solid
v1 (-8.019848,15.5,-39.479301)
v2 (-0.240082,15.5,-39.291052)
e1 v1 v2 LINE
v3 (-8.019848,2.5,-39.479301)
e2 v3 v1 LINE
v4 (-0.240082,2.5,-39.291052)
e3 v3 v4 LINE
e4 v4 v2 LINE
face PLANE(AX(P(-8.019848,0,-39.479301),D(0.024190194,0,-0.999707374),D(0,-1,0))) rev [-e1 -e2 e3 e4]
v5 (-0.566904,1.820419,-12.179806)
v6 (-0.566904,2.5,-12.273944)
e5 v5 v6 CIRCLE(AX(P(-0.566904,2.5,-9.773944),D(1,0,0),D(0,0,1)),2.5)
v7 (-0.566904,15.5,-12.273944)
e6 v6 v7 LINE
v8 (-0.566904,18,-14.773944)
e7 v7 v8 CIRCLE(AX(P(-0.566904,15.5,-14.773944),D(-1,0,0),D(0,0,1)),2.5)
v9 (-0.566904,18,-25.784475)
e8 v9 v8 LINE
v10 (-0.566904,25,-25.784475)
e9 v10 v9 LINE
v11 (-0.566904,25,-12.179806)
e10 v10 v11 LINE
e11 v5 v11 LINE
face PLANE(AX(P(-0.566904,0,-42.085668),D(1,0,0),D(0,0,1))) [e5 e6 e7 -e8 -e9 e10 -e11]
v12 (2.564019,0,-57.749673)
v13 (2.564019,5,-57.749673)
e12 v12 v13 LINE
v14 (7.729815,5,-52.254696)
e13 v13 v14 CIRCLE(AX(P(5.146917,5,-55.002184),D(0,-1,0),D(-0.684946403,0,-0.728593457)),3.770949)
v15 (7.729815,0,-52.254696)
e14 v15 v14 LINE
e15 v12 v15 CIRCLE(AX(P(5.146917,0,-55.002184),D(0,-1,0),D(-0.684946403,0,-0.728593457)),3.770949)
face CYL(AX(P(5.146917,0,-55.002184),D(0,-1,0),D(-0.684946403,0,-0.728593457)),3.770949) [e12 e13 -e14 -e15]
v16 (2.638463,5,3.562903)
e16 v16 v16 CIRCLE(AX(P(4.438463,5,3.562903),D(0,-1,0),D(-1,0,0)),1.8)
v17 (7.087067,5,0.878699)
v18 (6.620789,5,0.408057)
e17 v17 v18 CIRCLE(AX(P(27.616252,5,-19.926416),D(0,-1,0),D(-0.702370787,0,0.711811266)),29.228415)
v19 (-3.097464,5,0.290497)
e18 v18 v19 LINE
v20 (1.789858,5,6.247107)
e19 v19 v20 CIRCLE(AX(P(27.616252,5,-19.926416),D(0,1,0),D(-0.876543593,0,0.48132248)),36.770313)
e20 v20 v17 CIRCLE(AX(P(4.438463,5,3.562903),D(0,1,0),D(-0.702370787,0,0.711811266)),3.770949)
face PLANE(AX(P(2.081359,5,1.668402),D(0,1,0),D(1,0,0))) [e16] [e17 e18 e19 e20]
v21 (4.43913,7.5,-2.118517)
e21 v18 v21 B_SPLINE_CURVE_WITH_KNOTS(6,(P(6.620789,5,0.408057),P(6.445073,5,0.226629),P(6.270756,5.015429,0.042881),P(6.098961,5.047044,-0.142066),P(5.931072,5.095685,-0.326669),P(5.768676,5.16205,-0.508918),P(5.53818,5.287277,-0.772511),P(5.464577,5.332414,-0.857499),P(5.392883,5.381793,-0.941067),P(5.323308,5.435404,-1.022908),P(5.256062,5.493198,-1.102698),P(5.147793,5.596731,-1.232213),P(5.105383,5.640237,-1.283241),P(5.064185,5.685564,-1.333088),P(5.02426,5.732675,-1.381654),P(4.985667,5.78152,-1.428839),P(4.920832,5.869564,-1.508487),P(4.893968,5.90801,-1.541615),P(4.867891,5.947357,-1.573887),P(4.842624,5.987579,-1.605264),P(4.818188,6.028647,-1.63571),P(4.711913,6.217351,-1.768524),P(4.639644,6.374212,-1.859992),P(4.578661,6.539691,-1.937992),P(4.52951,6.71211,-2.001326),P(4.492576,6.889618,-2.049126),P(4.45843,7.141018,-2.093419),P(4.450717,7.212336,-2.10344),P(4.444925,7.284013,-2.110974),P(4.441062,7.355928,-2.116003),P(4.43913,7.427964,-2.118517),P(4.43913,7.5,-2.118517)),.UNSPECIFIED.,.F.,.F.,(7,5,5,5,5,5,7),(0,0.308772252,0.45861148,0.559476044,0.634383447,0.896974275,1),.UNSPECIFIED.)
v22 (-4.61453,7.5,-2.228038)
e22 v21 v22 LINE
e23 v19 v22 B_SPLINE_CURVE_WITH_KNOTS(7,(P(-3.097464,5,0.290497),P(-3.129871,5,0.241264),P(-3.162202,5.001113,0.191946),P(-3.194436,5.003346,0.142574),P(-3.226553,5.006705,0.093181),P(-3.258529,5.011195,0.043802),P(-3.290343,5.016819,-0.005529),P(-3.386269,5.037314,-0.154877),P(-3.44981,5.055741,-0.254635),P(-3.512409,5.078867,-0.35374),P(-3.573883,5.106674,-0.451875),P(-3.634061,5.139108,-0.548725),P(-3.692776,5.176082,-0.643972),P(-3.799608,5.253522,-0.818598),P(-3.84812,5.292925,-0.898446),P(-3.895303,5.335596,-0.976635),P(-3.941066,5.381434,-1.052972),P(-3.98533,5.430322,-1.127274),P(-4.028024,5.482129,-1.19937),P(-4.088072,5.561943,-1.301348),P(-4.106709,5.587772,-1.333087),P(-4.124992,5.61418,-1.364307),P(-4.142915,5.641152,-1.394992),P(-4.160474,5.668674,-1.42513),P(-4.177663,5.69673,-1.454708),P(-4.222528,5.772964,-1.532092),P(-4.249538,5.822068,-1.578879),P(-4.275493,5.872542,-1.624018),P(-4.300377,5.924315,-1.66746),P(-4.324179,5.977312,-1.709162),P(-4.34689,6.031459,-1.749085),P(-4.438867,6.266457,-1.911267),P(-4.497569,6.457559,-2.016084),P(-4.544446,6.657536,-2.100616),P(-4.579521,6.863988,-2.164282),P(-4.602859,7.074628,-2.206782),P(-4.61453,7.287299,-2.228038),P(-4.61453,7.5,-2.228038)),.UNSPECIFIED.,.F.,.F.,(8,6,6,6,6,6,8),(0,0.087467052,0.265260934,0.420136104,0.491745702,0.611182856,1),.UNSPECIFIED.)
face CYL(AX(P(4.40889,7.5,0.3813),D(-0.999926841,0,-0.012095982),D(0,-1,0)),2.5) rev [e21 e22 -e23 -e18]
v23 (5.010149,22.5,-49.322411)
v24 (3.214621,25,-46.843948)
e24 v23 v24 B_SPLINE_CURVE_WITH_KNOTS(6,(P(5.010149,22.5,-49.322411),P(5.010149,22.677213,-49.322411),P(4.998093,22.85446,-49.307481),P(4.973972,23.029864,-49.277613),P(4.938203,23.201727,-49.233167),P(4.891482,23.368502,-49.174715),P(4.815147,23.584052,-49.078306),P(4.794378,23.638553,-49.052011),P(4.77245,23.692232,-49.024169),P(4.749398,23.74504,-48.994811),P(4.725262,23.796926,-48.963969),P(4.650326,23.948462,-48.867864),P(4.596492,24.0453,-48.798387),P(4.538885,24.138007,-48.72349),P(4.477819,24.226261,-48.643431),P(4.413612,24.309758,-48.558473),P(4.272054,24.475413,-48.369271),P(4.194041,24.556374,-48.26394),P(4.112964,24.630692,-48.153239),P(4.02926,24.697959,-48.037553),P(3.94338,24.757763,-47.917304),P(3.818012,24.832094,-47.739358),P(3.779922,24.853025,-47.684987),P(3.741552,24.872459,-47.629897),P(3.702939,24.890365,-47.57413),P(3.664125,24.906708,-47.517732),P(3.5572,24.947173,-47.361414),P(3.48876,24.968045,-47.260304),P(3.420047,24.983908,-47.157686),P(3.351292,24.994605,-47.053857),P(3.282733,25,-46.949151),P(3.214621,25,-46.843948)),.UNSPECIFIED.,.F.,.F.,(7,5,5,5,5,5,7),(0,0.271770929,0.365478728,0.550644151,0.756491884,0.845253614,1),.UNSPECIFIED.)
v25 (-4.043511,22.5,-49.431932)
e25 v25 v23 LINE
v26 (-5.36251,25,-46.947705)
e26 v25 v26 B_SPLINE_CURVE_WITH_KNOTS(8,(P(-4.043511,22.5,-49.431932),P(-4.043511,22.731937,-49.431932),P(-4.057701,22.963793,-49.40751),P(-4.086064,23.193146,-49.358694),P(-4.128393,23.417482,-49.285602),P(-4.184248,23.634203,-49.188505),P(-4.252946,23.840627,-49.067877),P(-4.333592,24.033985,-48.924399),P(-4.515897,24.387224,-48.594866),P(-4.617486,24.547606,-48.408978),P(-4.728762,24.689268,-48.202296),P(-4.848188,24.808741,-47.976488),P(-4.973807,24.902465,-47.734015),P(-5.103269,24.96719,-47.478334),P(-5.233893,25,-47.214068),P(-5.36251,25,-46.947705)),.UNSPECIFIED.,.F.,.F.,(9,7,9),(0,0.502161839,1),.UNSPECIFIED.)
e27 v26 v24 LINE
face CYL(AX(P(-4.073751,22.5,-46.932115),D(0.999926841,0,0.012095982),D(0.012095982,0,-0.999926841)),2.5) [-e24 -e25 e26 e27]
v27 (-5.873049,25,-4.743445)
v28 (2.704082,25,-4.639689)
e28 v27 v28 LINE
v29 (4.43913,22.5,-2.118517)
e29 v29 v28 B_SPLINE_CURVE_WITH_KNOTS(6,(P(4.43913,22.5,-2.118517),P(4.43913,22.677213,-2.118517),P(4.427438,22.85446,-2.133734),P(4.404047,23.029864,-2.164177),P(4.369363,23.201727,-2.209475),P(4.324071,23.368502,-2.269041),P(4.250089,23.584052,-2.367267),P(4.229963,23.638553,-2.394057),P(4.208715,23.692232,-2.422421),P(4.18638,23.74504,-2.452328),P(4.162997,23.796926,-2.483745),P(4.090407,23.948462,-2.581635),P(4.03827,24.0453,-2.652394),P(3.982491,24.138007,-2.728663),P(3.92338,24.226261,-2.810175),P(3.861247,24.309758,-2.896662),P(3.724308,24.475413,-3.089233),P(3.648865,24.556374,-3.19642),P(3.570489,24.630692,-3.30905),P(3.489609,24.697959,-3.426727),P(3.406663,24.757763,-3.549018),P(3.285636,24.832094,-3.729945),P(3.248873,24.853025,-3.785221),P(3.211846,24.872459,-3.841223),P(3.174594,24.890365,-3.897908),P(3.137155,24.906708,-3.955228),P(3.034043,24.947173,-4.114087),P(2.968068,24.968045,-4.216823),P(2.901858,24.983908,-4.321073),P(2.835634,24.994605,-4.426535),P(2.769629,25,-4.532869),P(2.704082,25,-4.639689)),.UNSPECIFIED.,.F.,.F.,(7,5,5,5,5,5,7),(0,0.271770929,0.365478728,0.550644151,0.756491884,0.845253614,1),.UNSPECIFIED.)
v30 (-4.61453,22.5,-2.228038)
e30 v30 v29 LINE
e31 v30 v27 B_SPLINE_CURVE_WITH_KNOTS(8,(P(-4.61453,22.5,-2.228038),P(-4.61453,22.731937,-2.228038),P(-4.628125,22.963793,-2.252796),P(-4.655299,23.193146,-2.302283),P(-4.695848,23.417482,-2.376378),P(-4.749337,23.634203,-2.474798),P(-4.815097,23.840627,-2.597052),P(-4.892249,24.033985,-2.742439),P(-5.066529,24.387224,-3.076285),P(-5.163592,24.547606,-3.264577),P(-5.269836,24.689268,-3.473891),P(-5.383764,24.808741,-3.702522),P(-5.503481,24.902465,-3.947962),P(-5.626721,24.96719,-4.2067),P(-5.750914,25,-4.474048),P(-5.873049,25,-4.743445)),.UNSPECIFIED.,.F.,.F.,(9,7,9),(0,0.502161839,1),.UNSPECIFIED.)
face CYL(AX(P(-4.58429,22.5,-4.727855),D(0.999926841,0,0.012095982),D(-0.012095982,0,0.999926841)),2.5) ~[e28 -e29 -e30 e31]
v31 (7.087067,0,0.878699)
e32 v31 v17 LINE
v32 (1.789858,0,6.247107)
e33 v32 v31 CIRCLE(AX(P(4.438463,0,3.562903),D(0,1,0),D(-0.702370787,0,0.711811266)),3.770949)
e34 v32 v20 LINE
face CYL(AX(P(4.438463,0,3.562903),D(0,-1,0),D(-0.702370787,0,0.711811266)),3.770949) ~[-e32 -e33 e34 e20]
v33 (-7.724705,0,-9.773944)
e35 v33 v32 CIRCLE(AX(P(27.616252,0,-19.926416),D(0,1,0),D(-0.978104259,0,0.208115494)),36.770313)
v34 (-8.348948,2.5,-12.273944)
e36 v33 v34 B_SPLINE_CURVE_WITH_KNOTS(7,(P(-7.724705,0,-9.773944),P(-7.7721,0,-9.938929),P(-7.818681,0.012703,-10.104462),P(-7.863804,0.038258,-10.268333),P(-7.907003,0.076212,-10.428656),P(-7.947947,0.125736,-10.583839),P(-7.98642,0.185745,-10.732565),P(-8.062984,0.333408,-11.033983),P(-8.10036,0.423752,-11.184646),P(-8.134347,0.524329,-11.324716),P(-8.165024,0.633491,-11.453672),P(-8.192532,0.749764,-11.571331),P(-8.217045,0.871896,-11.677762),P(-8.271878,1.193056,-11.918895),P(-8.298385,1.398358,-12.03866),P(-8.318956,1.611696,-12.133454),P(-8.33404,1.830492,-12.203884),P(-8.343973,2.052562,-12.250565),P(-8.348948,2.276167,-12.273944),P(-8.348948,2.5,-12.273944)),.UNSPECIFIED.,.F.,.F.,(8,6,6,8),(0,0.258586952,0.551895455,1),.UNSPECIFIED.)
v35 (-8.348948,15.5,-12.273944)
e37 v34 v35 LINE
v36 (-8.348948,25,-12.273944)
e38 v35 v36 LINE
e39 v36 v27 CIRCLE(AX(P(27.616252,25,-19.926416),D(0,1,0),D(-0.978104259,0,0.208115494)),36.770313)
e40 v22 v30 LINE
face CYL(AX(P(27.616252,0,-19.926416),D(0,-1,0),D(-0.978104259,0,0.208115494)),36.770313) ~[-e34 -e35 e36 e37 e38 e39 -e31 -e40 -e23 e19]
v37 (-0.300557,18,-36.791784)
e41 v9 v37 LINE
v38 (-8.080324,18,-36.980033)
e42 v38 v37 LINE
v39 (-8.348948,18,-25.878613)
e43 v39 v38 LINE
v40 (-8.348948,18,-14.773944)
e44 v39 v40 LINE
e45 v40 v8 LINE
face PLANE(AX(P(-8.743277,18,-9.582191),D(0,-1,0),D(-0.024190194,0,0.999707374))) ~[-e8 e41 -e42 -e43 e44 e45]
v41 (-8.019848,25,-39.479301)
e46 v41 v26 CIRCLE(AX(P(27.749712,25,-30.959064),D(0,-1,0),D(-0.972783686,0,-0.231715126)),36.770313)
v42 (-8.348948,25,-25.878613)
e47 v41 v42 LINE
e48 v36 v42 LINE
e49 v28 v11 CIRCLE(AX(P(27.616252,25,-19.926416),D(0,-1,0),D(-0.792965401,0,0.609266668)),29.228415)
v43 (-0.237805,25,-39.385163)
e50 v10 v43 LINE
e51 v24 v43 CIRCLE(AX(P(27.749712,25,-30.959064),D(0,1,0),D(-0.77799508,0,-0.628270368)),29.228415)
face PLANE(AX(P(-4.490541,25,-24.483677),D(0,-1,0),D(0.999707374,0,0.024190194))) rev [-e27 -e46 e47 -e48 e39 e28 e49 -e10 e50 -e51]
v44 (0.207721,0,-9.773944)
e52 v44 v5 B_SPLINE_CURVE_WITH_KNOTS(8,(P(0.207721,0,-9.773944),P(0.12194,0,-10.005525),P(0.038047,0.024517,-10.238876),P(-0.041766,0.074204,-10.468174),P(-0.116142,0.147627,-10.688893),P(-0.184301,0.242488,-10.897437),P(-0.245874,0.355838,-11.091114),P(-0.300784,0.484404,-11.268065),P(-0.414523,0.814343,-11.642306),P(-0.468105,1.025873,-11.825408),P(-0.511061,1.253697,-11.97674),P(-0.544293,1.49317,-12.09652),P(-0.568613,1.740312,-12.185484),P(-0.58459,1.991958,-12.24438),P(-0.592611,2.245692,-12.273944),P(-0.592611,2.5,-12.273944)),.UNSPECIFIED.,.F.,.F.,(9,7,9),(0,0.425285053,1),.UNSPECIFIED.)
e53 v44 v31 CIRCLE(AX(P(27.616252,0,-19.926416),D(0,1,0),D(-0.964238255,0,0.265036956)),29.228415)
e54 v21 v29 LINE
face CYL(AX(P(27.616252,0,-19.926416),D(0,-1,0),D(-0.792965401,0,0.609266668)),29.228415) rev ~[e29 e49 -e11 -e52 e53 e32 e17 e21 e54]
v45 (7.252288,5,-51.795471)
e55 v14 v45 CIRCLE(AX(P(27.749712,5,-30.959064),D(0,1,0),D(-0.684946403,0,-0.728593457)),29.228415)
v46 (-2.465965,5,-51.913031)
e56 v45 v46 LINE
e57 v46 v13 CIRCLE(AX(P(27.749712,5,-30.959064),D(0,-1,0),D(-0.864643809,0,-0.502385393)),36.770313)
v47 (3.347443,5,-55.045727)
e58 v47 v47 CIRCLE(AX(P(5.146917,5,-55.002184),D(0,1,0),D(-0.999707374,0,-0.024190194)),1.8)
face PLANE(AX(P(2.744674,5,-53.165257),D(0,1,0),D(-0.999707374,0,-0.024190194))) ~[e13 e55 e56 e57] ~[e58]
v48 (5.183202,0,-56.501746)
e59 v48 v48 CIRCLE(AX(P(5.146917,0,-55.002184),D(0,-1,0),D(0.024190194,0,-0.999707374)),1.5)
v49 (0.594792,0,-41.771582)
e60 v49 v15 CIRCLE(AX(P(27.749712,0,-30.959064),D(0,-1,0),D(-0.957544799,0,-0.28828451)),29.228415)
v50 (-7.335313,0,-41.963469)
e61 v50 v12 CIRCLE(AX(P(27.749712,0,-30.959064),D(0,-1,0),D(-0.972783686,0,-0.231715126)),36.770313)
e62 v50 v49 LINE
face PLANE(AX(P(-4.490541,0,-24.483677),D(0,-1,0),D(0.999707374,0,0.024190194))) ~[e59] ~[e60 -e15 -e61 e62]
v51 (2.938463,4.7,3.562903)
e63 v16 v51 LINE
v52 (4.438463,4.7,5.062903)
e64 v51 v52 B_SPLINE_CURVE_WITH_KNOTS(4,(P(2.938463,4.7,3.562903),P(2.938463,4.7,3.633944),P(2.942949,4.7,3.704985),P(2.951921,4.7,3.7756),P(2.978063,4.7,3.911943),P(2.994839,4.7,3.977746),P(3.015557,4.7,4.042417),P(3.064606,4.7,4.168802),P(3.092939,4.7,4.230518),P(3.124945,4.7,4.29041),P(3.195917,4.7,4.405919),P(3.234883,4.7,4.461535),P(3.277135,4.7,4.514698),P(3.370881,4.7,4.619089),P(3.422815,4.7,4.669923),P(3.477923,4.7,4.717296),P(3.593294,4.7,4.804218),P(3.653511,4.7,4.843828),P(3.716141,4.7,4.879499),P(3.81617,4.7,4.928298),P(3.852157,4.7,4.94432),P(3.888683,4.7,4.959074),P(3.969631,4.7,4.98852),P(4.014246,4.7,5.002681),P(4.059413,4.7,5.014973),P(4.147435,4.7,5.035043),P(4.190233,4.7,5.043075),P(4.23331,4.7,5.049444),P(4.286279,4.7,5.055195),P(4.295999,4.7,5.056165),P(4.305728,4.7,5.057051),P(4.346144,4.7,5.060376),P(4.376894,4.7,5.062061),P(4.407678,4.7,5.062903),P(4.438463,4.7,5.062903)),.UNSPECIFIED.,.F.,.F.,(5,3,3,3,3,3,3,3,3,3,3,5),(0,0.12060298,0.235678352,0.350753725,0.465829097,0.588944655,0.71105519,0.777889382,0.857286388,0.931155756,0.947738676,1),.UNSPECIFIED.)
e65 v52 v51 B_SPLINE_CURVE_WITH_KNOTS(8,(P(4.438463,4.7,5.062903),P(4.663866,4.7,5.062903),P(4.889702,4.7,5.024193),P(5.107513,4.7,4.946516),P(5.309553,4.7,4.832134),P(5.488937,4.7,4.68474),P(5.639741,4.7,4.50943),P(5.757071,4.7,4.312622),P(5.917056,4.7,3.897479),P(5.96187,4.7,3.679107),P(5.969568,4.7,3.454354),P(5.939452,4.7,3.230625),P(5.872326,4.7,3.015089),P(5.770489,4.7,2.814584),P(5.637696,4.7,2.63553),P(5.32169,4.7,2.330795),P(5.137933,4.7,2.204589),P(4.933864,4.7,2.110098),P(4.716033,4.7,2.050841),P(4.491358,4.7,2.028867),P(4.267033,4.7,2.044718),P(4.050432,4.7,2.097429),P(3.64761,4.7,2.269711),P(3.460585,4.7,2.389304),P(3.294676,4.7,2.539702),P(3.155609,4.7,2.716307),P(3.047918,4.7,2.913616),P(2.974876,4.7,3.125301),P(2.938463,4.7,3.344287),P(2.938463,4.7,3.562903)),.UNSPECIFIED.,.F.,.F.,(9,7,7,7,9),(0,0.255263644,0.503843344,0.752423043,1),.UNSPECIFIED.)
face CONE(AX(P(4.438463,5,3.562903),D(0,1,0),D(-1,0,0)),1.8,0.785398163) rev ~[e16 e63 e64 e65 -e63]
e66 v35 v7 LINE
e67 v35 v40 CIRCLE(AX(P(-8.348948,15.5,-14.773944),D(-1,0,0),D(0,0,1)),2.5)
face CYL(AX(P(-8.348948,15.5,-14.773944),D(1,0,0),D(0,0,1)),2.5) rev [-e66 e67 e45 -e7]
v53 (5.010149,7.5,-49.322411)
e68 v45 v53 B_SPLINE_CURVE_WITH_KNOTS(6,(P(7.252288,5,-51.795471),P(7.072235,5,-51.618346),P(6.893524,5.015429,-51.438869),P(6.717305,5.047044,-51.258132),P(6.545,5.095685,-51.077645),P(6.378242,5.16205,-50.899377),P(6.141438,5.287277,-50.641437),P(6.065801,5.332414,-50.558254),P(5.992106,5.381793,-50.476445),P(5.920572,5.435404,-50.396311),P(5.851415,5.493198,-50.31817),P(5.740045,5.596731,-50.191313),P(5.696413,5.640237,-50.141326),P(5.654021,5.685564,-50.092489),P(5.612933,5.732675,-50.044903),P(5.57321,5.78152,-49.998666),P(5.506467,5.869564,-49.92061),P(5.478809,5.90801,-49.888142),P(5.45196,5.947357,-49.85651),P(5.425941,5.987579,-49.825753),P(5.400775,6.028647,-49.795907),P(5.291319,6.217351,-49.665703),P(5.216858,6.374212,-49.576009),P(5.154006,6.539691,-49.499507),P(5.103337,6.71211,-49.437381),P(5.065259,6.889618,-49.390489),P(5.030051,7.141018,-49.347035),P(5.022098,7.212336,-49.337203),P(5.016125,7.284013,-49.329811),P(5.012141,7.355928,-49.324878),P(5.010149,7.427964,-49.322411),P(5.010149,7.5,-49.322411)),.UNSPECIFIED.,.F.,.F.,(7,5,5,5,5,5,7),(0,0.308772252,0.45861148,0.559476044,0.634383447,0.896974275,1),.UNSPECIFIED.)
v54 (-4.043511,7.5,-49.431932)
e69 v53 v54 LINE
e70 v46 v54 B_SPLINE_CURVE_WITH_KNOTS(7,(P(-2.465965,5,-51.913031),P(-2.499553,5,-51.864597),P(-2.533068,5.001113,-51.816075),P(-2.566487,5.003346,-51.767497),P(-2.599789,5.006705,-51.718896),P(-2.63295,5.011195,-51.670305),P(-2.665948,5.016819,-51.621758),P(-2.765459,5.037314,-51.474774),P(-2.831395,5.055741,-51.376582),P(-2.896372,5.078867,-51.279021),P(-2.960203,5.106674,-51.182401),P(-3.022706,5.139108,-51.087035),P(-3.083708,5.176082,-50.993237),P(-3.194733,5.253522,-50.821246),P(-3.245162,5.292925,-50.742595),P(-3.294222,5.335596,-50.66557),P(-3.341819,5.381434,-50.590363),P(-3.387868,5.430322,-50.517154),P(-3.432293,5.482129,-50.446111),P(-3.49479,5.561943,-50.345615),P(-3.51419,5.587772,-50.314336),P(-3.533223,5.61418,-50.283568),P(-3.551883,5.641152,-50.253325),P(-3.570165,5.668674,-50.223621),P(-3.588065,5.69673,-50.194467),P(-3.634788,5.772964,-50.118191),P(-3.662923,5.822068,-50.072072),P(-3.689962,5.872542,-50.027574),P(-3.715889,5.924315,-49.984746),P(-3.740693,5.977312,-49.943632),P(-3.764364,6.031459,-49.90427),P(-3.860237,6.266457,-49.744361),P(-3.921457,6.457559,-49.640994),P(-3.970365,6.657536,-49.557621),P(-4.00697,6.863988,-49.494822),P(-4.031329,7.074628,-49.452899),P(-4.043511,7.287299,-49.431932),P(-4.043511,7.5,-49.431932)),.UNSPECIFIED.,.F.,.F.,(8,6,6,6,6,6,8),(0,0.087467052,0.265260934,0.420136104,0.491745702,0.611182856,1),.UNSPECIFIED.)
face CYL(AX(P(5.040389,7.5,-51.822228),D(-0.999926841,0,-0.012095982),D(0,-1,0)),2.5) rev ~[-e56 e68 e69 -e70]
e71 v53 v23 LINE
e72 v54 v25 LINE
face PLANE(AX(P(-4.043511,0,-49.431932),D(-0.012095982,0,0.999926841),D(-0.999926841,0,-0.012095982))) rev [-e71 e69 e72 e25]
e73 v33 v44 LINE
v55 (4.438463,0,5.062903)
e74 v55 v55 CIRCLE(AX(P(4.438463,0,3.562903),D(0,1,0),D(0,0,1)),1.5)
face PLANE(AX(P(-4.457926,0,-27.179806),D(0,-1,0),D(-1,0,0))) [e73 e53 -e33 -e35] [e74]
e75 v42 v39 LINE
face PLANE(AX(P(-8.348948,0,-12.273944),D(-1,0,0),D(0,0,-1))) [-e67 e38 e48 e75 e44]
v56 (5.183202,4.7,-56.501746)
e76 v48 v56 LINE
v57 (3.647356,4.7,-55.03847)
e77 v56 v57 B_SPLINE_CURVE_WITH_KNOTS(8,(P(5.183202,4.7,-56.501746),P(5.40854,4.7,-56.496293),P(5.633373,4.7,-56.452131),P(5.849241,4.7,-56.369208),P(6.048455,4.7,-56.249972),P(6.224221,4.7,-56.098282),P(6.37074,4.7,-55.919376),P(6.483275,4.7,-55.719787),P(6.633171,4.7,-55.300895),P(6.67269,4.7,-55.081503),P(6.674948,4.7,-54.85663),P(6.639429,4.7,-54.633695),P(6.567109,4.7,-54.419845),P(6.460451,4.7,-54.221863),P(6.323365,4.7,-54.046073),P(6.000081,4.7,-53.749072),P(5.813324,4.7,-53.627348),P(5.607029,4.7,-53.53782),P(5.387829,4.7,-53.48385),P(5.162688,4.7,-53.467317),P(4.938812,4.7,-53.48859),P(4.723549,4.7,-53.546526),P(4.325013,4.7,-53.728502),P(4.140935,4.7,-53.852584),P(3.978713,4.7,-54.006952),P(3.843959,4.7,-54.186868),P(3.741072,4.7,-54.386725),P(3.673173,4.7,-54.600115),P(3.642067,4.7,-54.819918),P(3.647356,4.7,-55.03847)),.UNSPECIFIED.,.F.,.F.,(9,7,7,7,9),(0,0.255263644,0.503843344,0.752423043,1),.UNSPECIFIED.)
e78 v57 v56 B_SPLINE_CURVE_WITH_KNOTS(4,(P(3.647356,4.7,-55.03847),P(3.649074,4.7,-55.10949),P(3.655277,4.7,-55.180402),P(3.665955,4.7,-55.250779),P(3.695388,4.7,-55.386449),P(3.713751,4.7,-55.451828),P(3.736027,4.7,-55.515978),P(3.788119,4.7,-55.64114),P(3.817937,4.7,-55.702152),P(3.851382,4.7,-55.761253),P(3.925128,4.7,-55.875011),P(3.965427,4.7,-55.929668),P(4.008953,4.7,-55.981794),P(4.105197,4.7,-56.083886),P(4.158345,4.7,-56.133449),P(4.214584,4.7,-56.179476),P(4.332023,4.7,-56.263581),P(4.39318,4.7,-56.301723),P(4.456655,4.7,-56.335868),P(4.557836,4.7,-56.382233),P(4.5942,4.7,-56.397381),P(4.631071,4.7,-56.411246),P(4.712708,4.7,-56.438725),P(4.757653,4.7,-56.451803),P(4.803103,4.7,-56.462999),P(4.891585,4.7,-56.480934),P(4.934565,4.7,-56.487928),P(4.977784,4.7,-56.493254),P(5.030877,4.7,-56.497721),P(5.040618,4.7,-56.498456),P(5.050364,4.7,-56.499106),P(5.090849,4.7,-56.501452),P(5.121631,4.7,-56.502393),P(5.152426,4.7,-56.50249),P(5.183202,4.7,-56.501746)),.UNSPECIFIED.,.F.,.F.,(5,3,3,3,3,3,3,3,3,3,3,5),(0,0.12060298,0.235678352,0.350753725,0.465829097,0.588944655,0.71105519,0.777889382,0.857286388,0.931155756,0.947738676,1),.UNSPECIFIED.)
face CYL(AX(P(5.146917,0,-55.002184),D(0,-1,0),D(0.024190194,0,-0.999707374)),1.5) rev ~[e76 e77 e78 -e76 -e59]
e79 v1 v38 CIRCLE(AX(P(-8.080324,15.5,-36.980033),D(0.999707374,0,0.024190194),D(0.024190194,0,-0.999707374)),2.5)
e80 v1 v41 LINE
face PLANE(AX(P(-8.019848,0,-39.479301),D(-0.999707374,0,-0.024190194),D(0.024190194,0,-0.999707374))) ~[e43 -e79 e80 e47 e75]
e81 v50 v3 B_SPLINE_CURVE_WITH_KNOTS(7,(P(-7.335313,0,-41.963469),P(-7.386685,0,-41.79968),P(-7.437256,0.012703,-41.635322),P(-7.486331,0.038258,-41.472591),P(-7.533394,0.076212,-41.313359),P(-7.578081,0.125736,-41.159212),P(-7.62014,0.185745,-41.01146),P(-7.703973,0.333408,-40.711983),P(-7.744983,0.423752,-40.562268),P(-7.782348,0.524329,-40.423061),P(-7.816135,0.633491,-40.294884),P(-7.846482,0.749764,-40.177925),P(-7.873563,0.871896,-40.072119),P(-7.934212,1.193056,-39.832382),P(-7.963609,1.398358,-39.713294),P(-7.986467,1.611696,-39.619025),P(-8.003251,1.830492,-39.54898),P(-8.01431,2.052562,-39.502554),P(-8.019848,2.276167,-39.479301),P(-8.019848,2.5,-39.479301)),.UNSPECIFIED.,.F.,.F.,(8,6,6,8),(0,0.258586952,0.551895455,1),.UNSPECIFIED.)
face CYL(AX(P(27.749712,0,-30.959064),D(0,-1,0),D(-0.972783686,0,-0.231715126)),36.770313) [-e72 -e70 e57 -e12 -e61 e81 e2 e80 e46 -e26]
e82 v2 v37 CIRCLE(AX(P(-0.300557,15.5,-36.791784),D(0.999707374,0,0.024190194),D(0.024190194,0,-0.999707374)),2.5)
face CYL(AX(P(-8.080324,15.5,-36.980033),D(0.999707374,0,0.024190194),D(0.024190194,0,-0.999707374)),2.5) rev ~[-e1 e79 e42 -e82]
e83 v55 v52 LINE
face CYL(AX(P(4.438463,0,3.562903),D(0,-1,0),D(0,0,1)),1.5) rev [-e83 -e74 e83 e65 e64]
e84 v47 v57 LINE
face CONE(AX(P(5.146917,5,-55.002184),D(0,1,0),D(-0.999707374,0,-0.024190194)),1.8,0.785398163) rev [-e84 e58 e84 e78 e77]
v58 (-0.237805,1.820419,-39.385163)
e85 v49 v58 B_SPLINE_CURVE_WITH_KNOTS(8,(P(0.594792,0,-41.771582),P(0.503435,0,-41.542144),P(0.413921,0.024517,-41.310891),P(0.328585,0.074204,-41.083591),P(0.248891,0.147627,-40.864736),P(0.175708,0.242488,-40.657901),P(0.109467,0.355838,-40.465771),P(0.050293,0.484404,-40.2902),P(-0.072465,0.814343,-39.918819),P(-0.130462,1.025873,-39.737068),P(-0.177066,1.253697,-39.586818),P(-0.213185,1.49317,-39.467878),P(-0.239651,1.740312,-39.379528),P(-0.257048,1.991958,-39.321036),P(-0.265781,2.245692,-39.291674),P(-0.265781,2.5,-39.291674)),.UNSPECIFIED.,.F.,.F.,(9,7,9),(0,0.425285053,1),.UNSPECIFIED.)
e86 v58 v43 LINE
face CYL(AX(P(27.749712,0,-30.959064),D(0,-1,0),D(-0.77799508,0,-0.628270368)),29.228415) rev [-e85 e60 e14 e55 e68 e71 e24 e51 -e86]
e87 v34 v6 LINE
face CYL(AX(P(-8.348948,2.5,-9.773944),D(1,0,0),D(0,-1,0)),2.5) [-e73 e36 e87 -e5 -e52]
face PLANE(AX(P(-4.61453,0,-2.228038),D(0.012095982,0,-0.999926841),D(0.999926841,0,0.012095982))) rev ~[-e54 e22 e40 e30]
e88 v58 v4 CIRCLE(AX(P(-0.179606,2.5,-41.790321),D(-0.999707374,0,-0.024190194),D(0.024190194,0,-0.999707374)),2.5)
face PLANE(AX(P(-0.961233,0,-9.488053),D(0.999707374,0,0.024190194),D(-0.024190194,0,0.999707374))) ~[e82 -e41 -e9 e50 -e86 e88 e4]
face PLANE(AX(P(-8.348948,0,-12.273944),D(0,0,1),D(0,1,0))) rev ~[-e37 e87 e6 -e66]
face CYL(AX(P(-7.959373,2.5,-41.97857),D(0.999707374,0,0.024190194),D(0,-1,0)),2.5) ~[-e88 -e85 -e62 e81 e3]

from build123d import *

# Parameters (mm, degrees)
CROQUIS2_R                                           = 1.5000000000000007
SALIENTE_EXTRUIR1_DEPTH                              = 5
SALIENTE_EXTRUIR2_DEPTH                              = 25
AVELLANADO_PARA_TORNILLO_CON_CABEZA_PLAN_D           = 1.8
AVELLANADO_PARA_TORNILLO_CON_CABEZA_PLAN_CSINK_D     = 3.6
AVELLANADO_PARA_TORNILLO_CON_CABEZA_PLAN_CSINK_ANGLE = 90
SALIENTE_EXTRUIR3_DEPTH                              = 25
CORTAR_EXTRUIR3_REACH                                = 53.752
CROQUIS13_W                                          = 29.905861654600464
CROQUIS13_H                                          = 18
CORTAR_EXTRUIR7_DEPTH                                = 57.075529812190766
CORTAR_EXTRUIR7_DEPTH_BACK                           = 16.3
CROQUIS44_W                                          = 16.299999999999983
CROQUIS44_H                                          = 7.0000000000000036
CORTAR_EXTRUIR8_DEPTH                                = 1
REDONDEO1_R                                          = 2.5


with BuildPart() as part:
    # Croquis2 → Saliente-Extruir1 (new body)
    with BuildSketch(Plane(origin=(0, 0, 0), x_dir=(1, 0, 0), z_dir=(0, 1, 0))):
        with BuildLine():
            Line((4.439129900634949, 2.118516979293595), (-4.614530320763677, 2.2280379015268346))
            ThreePointArc((-4.614530320763688, 2.2280379015268323), (-1.7200044543519404, -2.2420294069801585), (1.789858261170167, -6.247106865918674))
            ThreePointArc((1.7898582611701688, -6.247106865918663), (7.12266646558417, -6.2115073036702295), (7.087066903335739, -0.8786990992562278))
            ThreePointArc((7.087066903335739, -0.8786990992562309), (5.711774187433154, 0.574565767125705), (4.439129900634946, 2.118516979293595))
        make_face()
        with Locations((4.438462582252952, -3.5629029825874476)):
            Circle(CROQUIS2_R, mode=Mode.SUBTRACT)
    extrude(amount=SALIENTE_EXTRUIR1_DEPTH)

    # Croquis2<3> → Saliente-Extruir2 (add)
    with BuildSketch(Plane(origin=(0, 0, 0), x_dir=(1, 0, 0), z_dir=(0, 1, 0))):
        with BuildLine():
            ThreePointArc((-8.348947802254838, 12.273944296748217), (-6.849717496148568, 7.114200545347133), (-4.614530320763688, 2.2280379015268323))
            Line((-4.614530320763677, 2.2280379015268346), (4.439129900634949, 2.118516979293595))
            ThreePointArc((4.439129900634946, 2.118516979293595), (1.4480092130333588, 6.906303569503548), (-0.566904192020619, 12.179805951348676))
            Line((-0.5669041920206155, 12.179805951348678), (-8.348947802254829, 12.273944296748219))
        make_face()
    extrude(amount=SALIENTE_EXTRUIR2_DEPTH)

    # Avellanado para tornillo con cabeza plana avellanada de M1.61 (through all)
    with Locations(Plane(origin=(0, 5, 0), x_dir=(1, 0, 0), z_dir=(0, 1, 0))):
        with Locations((4.438462582, -3.562902983)):
            CounterSinkHole(AVELLANADO_PARA_TORNILLO_CON_CABEZA_PLAN_D / 2, AVELLANADO_PARA_TORNILLO_CON_CABEZA_PLAN_CSINK_D / 2, counter_sink_angle=AVELLANADO_PARA_TORNILLO_CON_CABEZA_PLAN_CSINK_ANGLE)

    # Croquis8 → Saliente-Extruir3 (add)
    with BuildSketch(Plane(origin=(0, 0, 0), x_dir=(1, 0, 0), z_dir=(0, 1, 0))):
        Polygon((-8.348947802254834, 42.17980595134868), (-0.5669041920206199, 42.085667605949155), (-0.5669041920206147, 12.179805951348678), (-8.348947802254829, 12.273944296748219), align=None)
    extrude(amount=SALIENTE_EXTRUIR3_DEPTH)

    # Croquis13 → Cortar-Extruir3 (cut, up to next)
    with BuildSketch(Plane.ZY.offset(8.348947802254827), mode=Mode.PRIVATE) as cortar_extruir3_sk1:
        with Locations((-27.22687512404845, 9)):
            Rectangle(CROQUIS13_W, CROQUIS13_H)
    cortar_extruir3_tool1 = extrude(cortar_extruir3_sk1.sketch, amount=-CORTAR_EXTRUIR3_REACH, mode=Mode.PRIVATE) & part.part
    add(cortar_extruir3_tool1.solids().sort_by_distance((-8.348948, 9, -27.226875))[0], mode=Mode.SUBTRACT)

    # Croquis42 → Cortar-Extruir7 (cut, two sides: drawn at the far end of the back side and taken through both)
    with BuildSketch(Plane(origin=(0.5089472836094107, 0, -42.072653173894544), x_dir=(-0.9999268409353232, 0, -0.012095981857829284), z_dir=(0.012095981857829284, 0, -0.9999268409353232)).offset(-CORTAR_EXTRUIR7_DEPTH_BACK)):
        Polygon((1.0759301896763651, 88.39893602181824), (1.0759301896763651, 25), (1.0759301896763651, 18), (8.85854316859686, 18), (72.2574791904151, 18), (161.42014152905733, 108.15386846652605), (90.2385925283186, 178.5528044883443), align=None)
    extrude(amount=CORTAR_EXTRUIR7_DEPTH + CORTAR_EXTRUIR7_DEPTH_BACK, mode=Mode.SUBTRACT)

    # Croquis44 → Cortar-Extruir8 (cut)
    with BuildSketch(Plane(origin=(-1.0758514756300315, 0, -0.01301443205461614), x_dir=(-0.012095981857829285, 0, 0.9999268409353232), z_dir=(-0.9999268409353232, 0, -0.012095981857829285))):
        with Locations((-33.92573139504898, 21.5)):
            Rectangle(CROQUIS44_W, CROQUIS44_H)
    extrude(amount=-CORTAR_EXTRUIR8_DEPTH, mode=Mode.SUBTRACT)

    # Redondeo1
    redondeo1_edges = [part.edges().sort_by_distance(p)[0] for p in [
        (-4.457925997137721, 0, -12.273944296748217),
        (-4.457925997137721, 18, -12.273944296748217),
        (-0.08770021006436401, 25, -2.1732774404102146),
        (-0.08770021006436401, 5, -2.1732774404102146),
    ]]
    fillet(redondeo1_edges, radius=REDONDEO1_R)

    # Simetría1: part across plane


with BuildPart() as part_1:
    add(part.part)
    add(part.part.mirror(Plane(origin=(-8.546112306537452, 25, -25.88099844410291), x_dir=(0.9999268409353231, 0, 0.012095981857829284), z_dir=(-0.012095981857829282, 0, 0.9999268409353232))))


solid = part_1.part
